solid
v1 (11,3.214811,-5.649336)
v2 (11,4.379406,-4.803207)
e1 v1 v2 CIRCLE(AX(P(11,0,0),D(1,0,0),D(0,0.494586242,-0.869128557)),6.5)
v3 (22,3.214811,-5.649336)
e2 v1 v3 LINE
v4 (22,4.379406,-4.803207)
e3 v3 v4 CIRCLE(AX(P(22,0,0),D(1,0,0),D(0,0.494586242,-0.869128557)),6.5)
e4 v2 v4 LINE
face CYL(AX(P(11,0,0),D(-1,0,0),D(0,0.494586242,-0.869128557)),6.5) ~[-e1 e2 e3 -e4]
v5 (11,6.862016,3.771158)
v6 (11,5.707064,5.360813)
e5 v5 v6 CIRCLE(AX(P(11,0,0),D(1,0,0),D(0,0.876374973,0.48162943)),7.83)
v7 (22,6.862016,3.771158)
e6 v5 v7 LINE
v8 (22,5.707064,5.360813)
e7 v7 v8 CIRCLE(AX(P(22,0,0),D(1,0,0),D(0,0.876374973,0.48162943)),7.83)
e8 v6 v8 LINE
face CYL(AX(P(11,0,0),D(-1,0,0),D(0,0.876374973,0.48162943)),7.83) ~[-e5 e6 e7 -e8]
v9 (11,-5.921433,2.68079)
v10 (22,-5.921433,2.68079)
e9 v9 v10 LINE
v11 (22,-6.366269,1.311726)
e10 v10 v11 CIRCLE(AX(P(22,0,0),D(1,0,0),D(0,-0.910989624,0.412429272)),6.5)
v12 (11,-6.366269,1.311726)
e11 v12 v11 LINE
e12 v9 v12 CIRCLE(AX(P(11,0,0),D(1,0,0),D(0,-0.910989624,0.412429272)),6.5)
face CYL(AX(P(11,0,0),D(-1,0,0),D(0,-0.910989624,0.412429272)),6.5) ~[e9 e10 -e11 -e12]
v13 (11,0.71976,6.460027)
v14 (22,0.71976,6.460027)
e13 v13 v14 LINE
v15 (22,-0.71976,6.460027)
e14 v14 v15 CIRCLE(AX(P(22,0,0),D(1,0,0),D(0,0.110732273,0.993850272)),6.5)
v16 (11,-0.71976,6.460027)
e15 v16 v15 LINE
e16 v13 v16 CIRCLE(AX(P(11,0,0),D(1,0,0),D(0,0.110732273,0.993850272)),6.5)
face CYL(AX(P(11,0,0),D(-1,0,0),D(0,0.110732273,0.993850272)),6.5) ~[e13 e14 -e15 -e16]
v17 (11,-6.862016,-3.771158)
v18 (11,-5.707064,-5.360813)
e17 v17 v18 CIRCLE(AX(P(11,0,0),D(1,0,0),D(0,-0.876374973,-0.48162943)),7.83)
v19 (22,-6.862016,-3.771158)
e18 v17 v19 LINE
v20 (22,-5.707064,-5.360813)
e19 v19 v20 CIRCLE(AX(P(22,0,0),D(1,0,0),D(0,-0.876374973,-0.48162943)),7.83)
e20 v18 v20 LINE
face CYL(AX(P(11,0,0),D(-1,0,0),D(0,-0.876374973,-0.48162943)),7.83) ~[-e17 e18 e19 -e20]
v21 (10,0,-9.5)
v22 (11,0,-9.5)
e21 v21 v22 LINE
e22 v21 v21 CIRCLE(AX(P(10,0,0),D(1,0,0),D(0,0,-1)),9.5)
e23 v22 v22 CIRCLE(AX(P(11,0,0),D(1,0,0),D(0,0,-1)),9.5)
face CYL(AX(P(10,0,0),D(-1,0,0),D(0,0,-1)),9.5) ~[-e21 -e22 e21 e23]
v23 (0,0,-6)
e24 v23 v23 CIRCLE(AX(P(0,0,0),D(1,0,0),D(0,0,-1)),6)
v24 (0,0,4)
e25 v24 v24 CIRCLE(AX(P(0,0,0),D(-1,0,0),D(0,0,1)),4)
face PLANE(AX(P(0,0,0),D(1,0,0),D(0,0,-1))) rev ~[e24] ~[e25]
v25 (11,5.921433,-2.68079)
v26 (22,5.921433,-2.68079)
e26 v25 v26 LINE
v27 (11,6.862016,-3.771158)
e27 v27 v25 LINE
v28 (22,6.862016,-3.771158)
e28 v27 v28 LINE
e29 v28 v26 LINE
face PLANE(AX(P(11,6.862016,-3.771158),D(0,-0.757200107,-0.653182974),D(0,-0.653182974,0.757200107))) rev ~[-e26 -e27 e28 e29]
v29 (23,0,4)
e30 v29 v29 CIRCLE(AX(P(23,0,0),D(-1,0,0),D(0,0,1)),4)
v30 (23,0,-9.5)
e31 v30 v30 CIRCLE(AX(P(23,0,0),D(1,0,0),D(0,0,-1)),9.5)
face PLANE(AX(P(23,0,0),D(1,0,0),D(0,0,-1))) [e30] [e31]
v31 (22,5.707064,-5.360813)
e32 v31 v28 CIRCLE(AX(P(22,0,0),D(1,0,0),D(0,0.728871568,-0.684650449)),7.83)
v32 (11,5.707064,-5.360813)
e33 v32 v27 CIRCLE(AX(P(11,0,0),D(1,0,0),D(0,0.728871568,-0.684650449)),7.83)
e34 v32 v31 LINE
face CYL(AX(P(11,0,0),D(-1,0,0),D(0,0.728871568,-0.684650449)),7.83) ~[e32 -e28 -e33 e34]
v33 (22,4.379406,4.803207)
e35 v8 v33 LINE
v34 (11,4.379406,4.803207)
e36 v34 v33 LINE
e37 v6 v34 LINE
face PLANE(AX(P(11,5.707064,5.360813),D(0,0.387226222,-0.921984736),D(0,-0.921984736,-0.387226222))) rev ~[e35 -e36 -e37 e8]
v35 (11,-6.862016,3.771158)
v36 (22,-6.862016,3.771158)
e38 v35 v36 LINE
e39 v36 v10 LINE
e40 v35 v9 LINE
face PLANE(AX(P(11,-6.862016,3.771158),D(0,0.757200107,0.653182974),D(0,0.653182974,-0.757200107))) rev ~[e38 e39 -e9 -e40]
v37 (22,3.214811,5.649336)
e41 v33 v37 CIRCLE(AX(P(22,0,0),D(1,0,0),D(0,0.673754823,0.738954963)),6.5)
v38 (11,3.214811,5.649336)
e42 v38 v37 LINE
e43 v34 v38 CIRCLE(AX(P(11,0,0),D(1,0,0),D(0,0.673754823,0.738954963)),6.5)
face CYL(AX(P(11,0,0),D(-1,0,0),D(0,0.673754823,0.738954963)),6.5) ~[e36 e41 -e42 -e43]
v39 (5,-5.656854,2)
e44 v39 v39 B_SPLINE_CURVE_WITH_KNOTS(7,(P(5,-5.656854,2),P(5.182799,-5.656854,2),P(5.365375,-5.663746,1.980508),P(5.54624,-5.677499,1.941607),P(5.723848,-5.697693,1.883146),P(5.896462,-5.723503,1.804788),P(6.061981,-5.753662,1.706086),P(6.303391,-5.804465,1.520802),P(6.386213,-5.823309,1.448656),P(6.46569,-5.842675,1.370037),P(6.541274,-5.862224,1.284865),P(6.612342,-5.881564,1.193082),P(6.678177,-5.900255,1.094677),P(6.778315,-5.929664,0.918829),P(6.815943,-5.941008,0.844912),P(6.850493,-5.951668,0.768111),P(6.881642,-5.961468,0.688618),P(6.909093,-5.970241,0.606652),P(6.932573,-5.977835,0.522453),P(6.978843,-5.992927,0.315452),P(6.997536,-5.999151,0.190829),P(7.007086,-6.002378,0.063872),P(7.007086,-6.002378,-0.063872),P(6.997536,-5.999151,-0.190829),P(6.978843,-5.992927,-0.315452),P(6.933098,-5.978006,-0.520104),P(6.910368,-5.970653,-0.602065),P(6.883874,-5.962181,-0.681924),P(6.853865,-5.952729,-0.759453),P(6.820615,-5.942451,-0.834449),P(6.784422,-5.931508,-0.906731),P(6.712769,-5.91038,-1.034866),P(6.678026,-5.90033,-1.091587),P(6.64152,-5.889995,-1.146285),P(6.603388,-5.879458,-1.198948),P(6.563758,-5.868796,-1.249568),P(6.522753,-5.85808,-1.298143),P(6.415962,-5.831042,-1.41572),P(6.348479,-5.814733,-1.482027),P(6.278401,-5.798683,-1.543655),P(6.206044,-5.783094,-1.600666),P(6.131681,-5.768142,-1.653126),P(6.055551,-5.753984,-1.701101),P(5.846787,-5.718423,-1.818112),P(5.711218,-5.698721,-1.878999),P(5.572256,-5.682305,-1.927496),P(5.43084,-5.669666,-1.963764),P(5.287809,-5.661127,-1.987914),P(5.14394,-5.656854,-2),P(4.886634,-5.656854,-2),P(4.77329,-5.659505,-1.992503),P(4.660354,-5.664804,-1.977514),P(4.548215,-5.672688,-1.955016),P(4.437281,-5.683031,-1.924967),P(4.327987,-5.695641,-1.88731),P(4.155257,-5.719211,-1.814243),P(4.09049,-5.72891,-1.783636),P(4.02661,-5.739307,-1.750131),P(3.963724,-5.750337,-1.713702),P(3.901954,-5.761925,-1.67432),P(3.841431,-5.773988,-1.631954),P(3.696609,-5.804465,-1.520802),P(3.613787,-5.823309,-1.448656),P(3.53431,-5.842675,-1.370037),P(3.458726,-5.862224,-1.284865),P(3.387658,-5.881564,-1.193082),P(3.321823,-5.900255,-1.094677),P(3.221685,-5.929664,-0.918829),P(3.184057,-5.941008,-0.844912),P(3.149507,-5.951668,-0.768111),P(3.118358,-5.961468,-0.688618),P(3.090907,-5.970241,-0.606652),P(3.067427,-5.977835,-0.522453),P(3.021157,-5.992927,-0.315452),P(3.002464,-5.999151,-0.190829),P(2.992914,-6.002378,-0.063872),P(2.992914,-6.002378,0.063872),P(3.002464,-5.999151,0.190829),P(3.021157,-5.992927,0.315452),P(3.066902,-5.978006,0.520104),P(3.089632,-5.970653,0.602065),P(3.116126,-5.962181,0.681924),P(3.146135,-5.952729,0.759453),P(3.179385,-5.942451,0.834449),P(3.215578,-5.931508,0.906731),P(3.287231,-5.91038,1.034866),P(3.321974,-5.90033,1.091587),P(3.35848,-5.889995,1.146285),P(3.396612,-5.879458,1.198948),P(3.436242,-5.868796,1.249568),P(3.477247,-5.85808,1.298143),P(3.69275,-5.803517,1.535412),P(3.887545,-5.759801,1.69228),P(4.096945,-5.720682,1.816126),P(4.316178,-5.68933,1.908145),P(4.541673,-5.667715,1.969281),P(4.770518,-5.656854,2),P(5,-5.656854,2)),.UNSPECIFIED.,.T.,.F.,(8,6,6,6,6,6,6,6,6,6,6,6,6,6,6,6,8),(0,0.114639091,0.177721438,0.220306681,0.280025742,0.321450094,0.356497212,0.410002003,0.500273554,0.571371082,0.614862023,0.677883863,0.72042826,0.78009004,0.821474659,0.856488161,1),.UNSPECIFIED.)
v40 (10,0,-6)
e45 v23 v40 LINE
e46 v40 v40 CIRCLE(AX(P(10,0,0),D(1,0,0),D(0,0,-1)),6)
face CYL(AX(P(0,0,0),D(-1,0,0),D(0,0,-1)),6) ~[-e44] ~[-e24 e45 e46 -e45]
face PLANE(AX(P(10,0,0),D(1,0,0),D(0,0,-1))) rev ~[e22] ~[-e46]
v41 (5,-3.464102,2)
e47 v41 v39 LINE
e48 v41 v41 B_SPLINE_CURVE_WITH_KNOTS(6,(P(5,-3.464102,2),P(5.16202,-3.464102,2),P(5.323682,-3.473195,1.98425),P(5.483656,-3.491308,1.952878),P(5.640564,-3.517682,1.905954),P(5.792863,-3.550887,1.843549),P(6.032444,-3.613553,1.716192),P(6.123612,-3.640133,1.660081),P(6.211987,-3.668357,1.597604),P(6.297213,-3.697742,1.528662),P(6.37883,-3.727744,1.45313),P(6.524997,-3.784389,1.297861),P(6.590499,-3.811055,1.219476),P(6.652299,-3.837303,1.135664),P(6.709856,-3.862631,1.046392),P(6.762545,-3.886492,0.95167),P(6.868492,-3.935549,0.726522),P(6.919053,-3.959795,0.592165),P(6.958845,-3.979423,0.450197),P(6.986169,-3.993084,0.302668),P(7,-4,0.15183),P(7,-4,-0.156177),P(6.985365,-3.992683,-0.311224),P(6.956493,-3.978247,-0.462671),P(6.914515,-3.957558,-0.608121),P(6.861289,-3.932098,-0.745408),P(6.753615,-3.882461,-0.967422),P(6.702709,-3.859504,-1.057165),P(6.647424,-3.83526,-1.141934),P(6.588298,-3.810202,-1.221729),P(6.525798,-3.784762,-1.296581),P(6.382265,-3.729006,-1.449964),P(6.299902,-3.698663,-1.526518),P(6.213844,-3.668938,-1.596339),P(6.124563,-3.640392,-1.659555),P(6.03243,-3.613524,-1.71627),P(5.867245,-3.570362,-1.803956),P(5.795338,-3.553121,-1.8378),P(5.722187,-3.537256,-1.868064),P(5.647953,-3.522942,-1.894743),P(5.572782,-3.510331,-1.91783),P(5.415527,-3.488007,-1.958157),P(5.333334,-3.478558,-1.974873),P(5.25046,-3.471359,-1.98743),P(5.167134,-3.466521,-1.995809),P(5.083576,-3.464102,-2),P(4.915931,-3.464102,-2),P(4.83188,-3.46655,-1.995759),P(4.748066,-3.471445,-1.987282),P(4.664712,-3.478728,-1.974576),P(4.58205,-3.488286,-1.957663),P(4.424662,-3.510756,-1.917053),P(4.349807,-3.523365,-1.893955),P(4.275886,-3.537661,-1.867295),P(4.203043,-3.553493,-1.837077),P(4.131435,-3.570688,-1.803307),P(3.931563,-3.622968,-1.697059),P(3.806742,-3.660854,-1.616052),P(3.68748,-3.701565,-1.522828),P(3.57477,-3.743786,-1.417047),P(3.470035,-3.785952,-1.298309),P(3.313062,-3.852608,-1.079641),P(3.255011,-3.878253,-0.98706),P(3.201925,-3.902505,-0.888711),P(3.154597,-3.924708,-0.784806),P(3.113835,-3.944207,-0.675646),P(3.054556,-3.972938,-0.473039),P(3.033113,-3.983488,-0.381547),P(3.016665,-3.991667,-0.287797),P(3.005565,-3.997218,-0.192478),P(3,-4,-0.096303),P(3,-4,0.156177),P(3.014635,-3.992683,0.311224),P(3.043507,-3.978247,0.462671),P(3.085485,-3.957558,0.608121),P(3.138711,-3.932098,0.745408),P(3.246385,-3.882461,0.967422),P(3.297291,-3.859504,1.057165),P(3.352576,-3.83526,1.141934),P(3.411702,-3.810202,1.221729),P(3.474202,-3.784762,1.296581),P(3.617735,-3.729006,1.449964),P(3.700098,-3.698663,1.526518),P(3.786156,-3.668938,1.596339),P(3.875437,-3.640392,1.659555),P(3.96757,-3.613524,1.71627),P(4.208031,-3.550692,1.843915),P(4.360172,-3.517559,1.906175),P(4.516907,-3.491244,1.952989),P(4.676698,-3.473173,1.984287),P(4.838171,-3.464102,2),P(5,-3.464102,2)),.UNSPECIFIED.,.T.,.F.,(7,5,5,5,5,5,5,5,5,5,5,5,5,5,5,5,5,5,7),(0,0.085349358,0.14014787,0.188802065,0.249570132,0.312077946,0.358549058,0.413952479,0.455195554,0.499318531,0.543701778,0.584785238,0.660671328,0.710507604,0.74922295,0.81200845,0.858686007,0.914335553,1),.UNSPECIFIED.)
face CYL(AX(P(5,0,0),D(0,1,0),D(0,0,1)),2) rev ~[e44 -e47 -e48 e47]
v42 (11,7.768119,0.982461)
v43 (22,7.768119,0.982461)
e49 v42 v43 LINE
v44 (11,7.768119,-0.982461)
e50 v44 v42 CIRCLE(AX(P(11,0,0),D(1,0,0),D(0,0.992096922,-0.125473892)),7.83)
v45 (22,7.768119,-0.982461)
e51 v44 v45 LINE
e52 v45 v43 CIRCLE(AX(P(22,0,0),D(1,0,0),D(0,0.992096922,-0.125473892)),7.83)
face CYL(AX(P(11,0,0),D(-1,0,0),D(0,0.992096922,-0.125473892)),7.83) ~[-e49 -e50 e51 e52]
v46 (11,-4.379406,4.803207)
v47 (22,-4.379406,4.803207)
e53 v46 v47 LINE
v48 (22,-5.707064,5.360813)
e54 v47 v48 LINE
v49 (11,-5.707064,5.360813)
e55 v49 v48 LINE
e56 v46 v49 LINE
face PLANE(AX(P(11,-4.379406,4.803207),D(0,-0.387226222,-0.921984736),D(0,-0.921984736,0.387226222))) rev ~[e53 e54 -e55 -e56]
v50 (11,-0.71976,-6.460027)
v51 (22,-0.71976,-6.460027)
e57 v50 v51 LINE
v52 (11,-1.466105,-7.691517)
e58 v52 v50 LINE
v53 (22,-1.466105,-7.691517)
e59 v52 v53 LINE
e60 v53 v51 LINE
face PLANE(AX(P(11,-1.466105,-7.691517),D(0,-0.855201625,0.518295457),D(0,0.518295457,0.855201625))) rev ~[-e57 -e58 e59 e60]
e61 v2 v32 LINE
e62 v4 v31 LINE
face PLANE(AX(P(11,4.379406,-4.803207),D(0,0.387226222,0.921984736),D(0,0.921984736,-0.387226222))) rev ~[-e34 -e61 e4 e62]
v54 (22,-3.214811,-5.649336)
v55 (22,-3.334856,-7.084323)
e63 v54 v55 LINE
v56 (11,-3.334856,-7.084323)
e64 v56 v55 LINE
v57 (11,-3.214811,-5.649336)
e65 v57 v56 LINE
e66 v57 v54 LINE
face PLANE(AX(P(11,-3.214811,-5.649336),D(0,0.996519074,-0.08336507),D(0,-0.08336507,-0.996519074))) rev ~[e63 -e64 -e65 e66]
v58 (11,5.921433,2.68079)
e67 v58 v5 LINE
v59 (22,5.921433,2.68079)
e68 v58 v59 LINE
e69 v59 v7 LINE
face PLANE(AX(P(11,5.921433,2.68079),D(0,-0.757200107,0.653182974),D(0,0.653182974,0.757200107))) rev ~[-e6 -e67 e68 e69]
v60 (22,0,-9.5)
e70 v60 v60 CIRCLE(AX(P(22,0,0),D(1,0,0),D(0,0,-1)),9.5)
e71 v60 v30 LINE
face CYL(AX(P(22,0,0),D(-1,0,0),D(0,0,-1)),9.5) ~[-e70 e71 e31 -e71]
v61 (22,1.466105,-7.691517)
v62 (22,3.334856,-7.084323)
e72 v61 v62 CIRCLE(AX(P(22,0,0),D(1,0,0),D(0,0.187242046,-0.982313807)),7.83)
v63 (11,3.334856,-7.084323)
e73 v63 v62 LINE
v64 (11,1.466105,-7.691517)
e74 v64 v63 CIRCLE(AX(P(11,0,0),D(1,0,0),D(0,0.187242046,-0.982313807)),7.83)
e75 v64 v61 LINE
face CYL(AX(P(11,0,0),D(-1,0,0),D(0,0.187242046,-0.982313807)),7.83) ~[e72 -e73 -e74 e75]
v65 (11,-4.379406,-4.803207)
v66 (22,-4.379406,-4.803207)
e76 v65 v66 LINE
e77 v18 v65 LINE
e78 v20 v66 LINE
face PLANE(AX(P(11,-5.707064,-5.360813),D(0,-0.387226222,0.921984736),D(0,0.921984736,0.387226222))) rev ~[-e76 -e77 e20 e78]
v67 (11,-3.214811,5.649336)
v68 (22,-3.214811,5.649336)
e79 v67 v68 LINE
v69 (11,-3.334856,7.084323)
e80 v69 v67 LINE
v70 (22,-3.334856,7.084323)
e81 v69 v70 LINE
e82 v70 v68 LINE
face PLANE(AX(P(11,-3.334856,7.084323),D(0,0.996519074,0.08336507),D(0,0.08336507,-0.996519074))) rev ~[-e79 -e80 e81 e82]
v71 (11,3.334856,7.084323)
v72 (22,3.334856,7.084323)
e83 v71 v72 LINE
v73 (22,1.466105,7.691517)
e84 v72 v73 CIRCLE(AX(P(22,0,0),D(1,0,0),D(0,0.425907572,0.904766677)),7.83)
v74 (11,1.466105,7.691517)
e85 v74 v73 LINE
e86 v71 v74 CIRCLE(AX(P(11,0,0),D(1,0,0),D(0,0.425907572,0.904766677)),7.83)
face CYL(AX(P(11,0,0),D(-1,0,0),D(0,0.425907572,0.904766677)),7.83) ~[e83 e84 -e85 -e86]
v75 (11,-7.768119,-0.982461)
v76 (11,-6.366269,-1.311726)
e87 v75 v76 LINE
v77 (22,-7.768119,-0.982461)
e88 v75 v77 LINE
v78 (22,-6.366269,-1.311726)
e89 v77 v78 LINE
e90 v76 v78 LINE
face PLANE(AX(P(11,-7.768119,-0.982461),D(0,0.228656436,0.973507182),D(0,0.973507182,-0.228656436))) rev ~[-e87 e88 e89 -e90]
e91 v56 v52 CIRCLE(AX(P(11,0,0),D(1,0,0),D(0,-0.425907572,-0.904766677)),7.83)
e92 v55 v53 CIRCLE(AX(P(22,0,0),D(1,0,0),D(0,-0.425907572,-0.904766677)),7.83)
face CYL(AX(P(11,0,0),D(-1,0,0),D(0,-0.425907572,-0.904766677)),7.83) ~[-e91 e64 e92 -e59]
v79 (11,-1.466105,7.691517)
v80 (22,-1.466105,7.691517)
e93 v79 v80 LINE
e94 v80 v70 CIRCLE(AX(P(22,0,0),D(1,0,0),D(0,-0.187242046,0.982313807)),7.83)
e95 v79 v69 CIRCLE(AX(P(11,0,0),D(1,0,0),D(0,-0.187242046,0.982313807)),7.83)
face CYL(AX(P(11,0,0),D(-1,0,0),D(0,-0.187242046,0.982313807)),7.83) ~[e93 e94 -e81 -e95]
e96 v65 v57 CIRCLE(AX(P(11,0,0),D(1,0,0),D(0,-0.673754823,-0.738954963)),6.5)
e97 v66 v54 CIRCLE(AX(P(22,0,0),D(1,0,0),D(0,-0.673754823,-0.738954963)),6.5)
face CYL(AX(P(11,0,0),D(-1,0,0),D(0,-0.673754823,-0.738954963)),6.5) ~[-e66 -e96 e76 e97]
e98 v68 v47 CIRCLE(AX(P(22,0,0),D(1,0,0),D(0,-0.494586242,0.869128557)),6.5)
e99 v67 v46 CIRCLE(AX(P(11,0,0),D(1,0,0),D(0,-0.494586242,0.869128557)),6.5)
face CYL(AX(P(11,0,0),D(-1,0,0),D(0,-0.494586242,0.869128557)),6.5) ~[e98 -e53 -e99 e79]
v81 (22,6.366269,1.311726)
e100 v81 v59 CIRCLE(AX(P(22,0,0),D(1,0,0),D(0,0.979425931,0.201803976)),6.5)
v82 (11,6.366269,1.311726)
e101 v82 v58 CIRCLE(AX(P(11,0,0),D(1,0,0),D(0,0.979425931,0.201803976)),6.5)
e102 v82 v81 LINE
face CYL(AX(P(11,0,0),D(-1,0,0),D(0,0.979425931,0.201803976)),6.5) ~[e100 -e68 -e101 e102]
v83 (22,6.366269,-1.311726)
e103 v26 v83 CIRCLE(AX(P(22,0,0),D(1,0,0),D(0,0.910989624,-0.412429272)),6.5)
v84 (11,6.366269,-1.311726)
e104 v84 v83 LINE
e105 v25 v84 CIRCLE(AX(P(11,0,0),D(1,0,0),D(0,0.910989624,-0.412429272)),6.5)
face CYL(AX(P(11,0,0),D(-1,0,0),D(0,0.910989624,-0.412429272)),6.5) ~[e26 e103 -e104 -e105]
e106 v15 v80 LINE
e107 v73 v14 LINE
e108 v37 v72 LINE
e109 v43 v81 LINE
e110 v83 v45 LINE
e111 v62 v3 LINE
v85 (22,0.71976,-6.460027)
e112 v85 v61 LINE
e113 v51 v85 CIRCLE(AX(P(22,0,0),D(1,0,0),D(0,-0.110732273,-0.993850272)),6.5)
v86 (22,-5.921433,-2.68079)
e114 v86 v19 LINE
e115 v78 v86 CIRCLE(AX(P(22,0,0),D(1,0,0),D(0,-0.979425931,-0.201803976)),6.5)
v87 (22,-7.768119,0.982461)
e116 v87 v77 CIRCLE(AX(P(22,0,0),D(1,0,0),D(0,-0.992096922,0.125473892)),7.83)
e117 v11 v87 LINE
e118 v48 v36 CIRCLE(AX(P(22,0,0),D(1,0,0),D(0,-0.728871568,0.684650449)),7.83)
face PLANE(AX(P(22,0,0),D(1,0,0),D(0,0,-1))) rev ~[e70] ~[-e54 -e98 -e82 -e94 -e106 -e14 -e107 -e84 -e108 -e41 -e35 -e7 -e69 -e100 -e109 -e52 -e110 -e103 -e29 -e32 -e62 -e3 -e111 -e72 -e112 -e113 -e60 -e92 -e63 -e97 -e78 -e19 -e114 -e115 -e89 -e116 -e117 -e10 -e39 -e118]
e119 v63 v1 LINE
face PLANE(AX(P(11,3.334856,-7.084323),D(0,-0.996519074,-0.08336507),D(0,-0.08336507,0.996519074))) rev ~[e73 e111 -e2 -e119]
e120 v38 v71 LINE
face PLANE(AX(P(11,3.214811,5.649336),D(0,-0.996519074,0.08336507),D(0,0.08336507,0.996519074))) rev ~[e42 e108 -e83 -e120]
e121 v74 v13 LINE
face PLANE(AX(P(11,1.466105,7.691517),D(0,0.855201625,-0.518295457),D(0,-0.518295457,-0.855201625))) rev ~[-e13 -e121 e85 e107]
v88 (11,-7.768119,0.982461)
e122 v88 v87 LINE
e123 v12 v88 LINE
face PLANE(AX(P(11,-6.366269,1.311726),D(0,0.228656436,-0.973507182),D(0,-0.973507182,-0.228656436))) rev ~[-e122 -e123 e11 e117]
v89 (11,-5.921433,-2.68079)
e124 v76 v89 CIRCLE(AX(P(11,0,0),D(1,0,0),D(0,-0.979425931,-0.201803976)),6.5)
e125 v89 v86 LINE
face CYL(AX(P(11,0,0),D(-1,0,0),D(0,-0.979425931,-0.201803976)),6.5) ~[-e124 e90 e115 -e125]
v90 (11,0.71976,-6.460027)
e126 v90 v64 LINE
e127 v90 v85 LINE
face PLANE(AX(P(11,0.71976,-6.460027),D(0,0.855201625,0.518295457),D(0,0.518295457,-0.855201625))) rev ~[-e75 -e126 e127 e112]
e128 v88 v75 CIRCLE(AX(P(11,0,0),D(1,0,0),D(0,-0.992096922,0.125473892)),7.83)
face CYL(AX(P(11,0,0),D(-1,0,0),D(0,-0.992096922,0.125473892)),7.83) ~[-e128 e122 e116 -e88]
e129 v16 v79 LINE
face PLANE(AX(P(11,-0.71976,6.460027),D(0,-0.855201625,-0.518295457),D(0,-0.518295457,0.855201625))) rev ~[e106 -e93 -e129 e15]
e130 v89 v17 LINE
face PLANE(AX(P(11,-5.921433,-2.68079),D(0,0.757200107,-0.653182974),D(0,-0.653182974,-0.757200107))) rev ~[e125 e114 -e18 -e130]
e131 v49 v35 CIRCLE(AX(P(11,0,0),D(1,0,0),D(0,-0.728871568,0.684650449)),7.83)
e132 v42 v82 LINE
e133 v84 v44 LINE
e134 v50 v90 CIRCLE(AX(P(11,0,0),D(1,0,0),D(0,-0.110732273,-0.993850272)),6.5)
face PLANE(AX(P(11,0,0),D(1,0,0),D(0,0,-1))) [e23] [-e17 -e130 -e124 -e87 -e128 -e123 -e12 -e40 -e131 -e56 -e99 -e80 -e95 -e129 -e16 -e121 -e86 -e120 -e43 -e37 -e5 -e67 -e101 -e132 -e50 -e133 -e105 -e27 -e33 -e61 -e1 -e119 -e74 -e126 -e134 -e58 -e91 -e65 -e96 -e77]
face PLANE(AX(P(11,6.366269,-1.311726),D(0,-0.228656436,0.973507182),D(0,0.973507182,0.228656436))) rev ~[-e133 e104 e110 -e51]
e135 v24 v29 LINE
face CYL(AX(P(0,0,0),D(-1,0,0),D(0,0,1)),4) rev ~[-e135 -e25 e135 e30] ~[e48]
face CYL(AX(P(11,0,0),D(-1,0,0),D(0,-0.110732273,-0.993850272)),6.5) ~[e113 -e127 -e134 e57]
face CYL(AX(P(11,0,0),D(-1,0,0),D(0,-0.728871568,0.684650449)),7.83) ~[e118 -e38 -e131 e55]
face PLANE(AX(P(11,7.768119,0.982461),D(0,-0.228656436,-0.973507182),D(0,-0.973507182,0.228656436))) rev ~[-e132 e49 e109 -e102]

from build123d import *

# Parameters (mm, degrees)
SKETCH1_R           = 6
BOSS_EXTRUDE1_DEPTH = 10
SKETCH2_R           = 9.5
BOSS_EXTRUDE2_DEPTH = 1
BOSS_EXTRUDE3_DEPTH = 11
SKETCH4_R           = 9.5
BOSS_EXTRUDE4_DEPTH = 1
SKETCH5_R           = 4
CUT_EXTRUDE1_DEPTH  = 27.636441204
SKETCH6_R           = 2
CUT_EXTRUDE2_DEPTH  = 27.636441204


with BuildPart() as part:
    # Sketch1 → Boss-Extrude1 (new body)
    with BuildSketch(Plane(origin=(0, 0, 0), x_dir=(0, 0, -1), z_dir=(1, 0, 0))):
        Circle(SKETCH1_R)
    extrude(amount=BOSS_EXTRUDE1_DEPTH)

    # Sketch2 → Boss-Extrude2 (add)
    with BuildSketch(Plane(origin=(10, 0, 0), x_dir=(0, 0, -1), z_dir=(1, 0, 0))):
        Circle(SKETCH2_R)
    extrude(amount=BOSS_EXTRUDE2_DEPTH)

    # Sketch3 → Boss-Extrude3 (add)
    with BuildSketch(Plane(origin=(11, 0, 0), x_dir=(0, 0, -1), z_dir=(1, 0, 0))):
        with BuildLine():
            Line((-0.982460567, 7.768118899), (-1.311725835, 6.366268557))
            ThreePointArc((-1.311725835, 6.366268557), (-2.008610463, 6.181867356), (-2.680790278, 5.921432554))
            Line((-2.680790278, 5.921432554), (-3.771158432, 6.862016036))
            ThreePointArc((-3.771158432, 6.862016036), (-4.602358525, 6.334603066), (-5.360813022, 5.707064372))
            Line((-5.360813022, 5.707064372), (-4.803207262, 4.379406352))
            ThreePointArc((-4.803207262, 4.379406352), (-5.258610463, 3.82060414), (-5.64933562, 3.214810577))
            Line((-5.64933562, 3.214810577), (-7.084323087, 3.334856278))
            ThreePointArc((-7.084323087, 3.334856278), (-7.446772523, 2.419603066), (-7.69151711, 1.46610523))
            Line((-7.69151711, 1.46610523), (-6.46002677, 0.719759772))
            ThreePointArc((-6.46002677, 0.719759772), (-6.5, 0), (-6.46002677, -0.719759772))
            Line((-6.46002677, -0.719759772), (-7.69151711, -1.46610523))
            ThreePointArc((-7.69151711, -1.46610523), (-7.446772523, -2.419603066), (-7.084323087, -3.334856278))
            Line((-7.084323087, -3.334856278), (-5.64933562, -3.214810577))
            ThreePointArc((-5.64933562, -3.214810577), (-5.258610463, -3.82060414), (-4.803207262, -4.379406352))
            Line((-4.803207262, -4.379406352), (-5.360813022, -5.707064372))
            ThreePointArc((-5.360813022, -5.707064372), (-4.602358525, -6.334603066), (-3.771158432, -6.862016036))
            Line((-3.771158432, -6.862016036), (-2.680790278, -5.921432554))
            ThreePointArc((-2.680790278, -5.921432554), (-2.008610463, -6.181867356), (-1.311725835, -6.366268557))
            Line((-1.311725835, -6.366268557), (-0.982460567, -7.768118899))
            ThreePointArc((-0.982460567, -7.768118899), (0, -7.83), (0.982460567, -7.768118899))
            Line((0.982460567, -7.768118899), (1.311725835, -6.366268557))
            ThreePointArc((1.311725835, -6.366268557), (2.008610463, -6.181867356), (2.680790278, -5.921432554))
            Line((2.680790278, -5.921432554), (3.771158432, -6.862016036))
            ThreePointArc((3.771158432, -6.862016036), (4.602358525, -6.334603066), (5.360813022, -5.707064372))
            Line((5.360813022, -5.707064372), (4.803207262, -4.379406352))
            ThreePointArc((4.803207262, -4.379406352), (5.258610463, -3.82060414), (5.64933562, -3.214810577))
            Line((5.64933562, -3.214810577), (7.084323087, -3.334856278))
            ThreePointArc((7.084323087, -3.334856278), (7.446772523, -2.419603066), (7.69151711, -1.46610523))
            Line((7.69151711, -1.46610523), (6.46002677, -0.719759772))
            ThreePointArc((6.46002677, -0.719759772), (6.5, 0), (6.46002677, 0.719759772))
            Line((6.46002677, 0.719759772), (7.69151711, 1.46610523))
            ThreePointArc((7.69151711, 1.46610523), (7.446772523, 2.419603066), (7.084323087, 3.334856278))
            Line((7.084323087, 3.334856278), (5.64933562, 3.214810577))
            ThreePointArc((5.64933562, 3.214810577), (5.258610463, 3.82060414), (4.803207262, 4.379406352))
            Line((4.803207262, 4.379406352), (5.360813022, 5.707064372))
            ThreePointArc((5.360813022, 5.707064372), (4.602358525, 6.334603066), (3.771158432, 6.862016036))
            Line((3.771158432, 6.862016036), (2.680790278, 5.921432554))
            ThreePointArc((2.680790278, 5.921432554), (2.008610463, 6.181867356), (1.311725835, 6.366268557))
            Line((1.311725835, 6.366268557), (0.982460567, 7.768118899))
            ThreePointArc((0.982460567, 7.768118899), (0, 7.83), (-0.982460567, 7.768118899))
        make_face()
    extrude(amount=BOSS_EXTRUDE3_DEPTH)

    # Sketch4 → Boss-Extrude4 (add)
    with BuildSketch(Plane(origin=(22, 0, 0), x_dir=(0, 0, -1), z_dir=(1, 0, 0))):
        Circle(SKETCH4_R)
    extrude(amount=BOSS_EXTRUDE4_DEPTH)

    # Sketch5 → Cut-Extrude1 (cut, through all)
    with BuildSketch(Plane.ZY):
        Circle(SKETCH5_R)
    extrude(amount=-CUT_EXTRUDE1_DEPTH, mode=Mode.SUBTRACT)

    # Sketch6 → Cut-Extrude2 (cut, through all)
    with BuildSketch(Plane(origin=(0, 0, 0), x_dir=(1, 0, 0), z_dir=(0, 1, 0))):
        with Locations(Location((5, 0, 0), (0, 0, 270))):
            Circle(SKETCH6_R)
    extrude(amount=-CUT_EXTRUDE2_DEPTH, mode=Mode.SUBTRACT)


solid = part.part
